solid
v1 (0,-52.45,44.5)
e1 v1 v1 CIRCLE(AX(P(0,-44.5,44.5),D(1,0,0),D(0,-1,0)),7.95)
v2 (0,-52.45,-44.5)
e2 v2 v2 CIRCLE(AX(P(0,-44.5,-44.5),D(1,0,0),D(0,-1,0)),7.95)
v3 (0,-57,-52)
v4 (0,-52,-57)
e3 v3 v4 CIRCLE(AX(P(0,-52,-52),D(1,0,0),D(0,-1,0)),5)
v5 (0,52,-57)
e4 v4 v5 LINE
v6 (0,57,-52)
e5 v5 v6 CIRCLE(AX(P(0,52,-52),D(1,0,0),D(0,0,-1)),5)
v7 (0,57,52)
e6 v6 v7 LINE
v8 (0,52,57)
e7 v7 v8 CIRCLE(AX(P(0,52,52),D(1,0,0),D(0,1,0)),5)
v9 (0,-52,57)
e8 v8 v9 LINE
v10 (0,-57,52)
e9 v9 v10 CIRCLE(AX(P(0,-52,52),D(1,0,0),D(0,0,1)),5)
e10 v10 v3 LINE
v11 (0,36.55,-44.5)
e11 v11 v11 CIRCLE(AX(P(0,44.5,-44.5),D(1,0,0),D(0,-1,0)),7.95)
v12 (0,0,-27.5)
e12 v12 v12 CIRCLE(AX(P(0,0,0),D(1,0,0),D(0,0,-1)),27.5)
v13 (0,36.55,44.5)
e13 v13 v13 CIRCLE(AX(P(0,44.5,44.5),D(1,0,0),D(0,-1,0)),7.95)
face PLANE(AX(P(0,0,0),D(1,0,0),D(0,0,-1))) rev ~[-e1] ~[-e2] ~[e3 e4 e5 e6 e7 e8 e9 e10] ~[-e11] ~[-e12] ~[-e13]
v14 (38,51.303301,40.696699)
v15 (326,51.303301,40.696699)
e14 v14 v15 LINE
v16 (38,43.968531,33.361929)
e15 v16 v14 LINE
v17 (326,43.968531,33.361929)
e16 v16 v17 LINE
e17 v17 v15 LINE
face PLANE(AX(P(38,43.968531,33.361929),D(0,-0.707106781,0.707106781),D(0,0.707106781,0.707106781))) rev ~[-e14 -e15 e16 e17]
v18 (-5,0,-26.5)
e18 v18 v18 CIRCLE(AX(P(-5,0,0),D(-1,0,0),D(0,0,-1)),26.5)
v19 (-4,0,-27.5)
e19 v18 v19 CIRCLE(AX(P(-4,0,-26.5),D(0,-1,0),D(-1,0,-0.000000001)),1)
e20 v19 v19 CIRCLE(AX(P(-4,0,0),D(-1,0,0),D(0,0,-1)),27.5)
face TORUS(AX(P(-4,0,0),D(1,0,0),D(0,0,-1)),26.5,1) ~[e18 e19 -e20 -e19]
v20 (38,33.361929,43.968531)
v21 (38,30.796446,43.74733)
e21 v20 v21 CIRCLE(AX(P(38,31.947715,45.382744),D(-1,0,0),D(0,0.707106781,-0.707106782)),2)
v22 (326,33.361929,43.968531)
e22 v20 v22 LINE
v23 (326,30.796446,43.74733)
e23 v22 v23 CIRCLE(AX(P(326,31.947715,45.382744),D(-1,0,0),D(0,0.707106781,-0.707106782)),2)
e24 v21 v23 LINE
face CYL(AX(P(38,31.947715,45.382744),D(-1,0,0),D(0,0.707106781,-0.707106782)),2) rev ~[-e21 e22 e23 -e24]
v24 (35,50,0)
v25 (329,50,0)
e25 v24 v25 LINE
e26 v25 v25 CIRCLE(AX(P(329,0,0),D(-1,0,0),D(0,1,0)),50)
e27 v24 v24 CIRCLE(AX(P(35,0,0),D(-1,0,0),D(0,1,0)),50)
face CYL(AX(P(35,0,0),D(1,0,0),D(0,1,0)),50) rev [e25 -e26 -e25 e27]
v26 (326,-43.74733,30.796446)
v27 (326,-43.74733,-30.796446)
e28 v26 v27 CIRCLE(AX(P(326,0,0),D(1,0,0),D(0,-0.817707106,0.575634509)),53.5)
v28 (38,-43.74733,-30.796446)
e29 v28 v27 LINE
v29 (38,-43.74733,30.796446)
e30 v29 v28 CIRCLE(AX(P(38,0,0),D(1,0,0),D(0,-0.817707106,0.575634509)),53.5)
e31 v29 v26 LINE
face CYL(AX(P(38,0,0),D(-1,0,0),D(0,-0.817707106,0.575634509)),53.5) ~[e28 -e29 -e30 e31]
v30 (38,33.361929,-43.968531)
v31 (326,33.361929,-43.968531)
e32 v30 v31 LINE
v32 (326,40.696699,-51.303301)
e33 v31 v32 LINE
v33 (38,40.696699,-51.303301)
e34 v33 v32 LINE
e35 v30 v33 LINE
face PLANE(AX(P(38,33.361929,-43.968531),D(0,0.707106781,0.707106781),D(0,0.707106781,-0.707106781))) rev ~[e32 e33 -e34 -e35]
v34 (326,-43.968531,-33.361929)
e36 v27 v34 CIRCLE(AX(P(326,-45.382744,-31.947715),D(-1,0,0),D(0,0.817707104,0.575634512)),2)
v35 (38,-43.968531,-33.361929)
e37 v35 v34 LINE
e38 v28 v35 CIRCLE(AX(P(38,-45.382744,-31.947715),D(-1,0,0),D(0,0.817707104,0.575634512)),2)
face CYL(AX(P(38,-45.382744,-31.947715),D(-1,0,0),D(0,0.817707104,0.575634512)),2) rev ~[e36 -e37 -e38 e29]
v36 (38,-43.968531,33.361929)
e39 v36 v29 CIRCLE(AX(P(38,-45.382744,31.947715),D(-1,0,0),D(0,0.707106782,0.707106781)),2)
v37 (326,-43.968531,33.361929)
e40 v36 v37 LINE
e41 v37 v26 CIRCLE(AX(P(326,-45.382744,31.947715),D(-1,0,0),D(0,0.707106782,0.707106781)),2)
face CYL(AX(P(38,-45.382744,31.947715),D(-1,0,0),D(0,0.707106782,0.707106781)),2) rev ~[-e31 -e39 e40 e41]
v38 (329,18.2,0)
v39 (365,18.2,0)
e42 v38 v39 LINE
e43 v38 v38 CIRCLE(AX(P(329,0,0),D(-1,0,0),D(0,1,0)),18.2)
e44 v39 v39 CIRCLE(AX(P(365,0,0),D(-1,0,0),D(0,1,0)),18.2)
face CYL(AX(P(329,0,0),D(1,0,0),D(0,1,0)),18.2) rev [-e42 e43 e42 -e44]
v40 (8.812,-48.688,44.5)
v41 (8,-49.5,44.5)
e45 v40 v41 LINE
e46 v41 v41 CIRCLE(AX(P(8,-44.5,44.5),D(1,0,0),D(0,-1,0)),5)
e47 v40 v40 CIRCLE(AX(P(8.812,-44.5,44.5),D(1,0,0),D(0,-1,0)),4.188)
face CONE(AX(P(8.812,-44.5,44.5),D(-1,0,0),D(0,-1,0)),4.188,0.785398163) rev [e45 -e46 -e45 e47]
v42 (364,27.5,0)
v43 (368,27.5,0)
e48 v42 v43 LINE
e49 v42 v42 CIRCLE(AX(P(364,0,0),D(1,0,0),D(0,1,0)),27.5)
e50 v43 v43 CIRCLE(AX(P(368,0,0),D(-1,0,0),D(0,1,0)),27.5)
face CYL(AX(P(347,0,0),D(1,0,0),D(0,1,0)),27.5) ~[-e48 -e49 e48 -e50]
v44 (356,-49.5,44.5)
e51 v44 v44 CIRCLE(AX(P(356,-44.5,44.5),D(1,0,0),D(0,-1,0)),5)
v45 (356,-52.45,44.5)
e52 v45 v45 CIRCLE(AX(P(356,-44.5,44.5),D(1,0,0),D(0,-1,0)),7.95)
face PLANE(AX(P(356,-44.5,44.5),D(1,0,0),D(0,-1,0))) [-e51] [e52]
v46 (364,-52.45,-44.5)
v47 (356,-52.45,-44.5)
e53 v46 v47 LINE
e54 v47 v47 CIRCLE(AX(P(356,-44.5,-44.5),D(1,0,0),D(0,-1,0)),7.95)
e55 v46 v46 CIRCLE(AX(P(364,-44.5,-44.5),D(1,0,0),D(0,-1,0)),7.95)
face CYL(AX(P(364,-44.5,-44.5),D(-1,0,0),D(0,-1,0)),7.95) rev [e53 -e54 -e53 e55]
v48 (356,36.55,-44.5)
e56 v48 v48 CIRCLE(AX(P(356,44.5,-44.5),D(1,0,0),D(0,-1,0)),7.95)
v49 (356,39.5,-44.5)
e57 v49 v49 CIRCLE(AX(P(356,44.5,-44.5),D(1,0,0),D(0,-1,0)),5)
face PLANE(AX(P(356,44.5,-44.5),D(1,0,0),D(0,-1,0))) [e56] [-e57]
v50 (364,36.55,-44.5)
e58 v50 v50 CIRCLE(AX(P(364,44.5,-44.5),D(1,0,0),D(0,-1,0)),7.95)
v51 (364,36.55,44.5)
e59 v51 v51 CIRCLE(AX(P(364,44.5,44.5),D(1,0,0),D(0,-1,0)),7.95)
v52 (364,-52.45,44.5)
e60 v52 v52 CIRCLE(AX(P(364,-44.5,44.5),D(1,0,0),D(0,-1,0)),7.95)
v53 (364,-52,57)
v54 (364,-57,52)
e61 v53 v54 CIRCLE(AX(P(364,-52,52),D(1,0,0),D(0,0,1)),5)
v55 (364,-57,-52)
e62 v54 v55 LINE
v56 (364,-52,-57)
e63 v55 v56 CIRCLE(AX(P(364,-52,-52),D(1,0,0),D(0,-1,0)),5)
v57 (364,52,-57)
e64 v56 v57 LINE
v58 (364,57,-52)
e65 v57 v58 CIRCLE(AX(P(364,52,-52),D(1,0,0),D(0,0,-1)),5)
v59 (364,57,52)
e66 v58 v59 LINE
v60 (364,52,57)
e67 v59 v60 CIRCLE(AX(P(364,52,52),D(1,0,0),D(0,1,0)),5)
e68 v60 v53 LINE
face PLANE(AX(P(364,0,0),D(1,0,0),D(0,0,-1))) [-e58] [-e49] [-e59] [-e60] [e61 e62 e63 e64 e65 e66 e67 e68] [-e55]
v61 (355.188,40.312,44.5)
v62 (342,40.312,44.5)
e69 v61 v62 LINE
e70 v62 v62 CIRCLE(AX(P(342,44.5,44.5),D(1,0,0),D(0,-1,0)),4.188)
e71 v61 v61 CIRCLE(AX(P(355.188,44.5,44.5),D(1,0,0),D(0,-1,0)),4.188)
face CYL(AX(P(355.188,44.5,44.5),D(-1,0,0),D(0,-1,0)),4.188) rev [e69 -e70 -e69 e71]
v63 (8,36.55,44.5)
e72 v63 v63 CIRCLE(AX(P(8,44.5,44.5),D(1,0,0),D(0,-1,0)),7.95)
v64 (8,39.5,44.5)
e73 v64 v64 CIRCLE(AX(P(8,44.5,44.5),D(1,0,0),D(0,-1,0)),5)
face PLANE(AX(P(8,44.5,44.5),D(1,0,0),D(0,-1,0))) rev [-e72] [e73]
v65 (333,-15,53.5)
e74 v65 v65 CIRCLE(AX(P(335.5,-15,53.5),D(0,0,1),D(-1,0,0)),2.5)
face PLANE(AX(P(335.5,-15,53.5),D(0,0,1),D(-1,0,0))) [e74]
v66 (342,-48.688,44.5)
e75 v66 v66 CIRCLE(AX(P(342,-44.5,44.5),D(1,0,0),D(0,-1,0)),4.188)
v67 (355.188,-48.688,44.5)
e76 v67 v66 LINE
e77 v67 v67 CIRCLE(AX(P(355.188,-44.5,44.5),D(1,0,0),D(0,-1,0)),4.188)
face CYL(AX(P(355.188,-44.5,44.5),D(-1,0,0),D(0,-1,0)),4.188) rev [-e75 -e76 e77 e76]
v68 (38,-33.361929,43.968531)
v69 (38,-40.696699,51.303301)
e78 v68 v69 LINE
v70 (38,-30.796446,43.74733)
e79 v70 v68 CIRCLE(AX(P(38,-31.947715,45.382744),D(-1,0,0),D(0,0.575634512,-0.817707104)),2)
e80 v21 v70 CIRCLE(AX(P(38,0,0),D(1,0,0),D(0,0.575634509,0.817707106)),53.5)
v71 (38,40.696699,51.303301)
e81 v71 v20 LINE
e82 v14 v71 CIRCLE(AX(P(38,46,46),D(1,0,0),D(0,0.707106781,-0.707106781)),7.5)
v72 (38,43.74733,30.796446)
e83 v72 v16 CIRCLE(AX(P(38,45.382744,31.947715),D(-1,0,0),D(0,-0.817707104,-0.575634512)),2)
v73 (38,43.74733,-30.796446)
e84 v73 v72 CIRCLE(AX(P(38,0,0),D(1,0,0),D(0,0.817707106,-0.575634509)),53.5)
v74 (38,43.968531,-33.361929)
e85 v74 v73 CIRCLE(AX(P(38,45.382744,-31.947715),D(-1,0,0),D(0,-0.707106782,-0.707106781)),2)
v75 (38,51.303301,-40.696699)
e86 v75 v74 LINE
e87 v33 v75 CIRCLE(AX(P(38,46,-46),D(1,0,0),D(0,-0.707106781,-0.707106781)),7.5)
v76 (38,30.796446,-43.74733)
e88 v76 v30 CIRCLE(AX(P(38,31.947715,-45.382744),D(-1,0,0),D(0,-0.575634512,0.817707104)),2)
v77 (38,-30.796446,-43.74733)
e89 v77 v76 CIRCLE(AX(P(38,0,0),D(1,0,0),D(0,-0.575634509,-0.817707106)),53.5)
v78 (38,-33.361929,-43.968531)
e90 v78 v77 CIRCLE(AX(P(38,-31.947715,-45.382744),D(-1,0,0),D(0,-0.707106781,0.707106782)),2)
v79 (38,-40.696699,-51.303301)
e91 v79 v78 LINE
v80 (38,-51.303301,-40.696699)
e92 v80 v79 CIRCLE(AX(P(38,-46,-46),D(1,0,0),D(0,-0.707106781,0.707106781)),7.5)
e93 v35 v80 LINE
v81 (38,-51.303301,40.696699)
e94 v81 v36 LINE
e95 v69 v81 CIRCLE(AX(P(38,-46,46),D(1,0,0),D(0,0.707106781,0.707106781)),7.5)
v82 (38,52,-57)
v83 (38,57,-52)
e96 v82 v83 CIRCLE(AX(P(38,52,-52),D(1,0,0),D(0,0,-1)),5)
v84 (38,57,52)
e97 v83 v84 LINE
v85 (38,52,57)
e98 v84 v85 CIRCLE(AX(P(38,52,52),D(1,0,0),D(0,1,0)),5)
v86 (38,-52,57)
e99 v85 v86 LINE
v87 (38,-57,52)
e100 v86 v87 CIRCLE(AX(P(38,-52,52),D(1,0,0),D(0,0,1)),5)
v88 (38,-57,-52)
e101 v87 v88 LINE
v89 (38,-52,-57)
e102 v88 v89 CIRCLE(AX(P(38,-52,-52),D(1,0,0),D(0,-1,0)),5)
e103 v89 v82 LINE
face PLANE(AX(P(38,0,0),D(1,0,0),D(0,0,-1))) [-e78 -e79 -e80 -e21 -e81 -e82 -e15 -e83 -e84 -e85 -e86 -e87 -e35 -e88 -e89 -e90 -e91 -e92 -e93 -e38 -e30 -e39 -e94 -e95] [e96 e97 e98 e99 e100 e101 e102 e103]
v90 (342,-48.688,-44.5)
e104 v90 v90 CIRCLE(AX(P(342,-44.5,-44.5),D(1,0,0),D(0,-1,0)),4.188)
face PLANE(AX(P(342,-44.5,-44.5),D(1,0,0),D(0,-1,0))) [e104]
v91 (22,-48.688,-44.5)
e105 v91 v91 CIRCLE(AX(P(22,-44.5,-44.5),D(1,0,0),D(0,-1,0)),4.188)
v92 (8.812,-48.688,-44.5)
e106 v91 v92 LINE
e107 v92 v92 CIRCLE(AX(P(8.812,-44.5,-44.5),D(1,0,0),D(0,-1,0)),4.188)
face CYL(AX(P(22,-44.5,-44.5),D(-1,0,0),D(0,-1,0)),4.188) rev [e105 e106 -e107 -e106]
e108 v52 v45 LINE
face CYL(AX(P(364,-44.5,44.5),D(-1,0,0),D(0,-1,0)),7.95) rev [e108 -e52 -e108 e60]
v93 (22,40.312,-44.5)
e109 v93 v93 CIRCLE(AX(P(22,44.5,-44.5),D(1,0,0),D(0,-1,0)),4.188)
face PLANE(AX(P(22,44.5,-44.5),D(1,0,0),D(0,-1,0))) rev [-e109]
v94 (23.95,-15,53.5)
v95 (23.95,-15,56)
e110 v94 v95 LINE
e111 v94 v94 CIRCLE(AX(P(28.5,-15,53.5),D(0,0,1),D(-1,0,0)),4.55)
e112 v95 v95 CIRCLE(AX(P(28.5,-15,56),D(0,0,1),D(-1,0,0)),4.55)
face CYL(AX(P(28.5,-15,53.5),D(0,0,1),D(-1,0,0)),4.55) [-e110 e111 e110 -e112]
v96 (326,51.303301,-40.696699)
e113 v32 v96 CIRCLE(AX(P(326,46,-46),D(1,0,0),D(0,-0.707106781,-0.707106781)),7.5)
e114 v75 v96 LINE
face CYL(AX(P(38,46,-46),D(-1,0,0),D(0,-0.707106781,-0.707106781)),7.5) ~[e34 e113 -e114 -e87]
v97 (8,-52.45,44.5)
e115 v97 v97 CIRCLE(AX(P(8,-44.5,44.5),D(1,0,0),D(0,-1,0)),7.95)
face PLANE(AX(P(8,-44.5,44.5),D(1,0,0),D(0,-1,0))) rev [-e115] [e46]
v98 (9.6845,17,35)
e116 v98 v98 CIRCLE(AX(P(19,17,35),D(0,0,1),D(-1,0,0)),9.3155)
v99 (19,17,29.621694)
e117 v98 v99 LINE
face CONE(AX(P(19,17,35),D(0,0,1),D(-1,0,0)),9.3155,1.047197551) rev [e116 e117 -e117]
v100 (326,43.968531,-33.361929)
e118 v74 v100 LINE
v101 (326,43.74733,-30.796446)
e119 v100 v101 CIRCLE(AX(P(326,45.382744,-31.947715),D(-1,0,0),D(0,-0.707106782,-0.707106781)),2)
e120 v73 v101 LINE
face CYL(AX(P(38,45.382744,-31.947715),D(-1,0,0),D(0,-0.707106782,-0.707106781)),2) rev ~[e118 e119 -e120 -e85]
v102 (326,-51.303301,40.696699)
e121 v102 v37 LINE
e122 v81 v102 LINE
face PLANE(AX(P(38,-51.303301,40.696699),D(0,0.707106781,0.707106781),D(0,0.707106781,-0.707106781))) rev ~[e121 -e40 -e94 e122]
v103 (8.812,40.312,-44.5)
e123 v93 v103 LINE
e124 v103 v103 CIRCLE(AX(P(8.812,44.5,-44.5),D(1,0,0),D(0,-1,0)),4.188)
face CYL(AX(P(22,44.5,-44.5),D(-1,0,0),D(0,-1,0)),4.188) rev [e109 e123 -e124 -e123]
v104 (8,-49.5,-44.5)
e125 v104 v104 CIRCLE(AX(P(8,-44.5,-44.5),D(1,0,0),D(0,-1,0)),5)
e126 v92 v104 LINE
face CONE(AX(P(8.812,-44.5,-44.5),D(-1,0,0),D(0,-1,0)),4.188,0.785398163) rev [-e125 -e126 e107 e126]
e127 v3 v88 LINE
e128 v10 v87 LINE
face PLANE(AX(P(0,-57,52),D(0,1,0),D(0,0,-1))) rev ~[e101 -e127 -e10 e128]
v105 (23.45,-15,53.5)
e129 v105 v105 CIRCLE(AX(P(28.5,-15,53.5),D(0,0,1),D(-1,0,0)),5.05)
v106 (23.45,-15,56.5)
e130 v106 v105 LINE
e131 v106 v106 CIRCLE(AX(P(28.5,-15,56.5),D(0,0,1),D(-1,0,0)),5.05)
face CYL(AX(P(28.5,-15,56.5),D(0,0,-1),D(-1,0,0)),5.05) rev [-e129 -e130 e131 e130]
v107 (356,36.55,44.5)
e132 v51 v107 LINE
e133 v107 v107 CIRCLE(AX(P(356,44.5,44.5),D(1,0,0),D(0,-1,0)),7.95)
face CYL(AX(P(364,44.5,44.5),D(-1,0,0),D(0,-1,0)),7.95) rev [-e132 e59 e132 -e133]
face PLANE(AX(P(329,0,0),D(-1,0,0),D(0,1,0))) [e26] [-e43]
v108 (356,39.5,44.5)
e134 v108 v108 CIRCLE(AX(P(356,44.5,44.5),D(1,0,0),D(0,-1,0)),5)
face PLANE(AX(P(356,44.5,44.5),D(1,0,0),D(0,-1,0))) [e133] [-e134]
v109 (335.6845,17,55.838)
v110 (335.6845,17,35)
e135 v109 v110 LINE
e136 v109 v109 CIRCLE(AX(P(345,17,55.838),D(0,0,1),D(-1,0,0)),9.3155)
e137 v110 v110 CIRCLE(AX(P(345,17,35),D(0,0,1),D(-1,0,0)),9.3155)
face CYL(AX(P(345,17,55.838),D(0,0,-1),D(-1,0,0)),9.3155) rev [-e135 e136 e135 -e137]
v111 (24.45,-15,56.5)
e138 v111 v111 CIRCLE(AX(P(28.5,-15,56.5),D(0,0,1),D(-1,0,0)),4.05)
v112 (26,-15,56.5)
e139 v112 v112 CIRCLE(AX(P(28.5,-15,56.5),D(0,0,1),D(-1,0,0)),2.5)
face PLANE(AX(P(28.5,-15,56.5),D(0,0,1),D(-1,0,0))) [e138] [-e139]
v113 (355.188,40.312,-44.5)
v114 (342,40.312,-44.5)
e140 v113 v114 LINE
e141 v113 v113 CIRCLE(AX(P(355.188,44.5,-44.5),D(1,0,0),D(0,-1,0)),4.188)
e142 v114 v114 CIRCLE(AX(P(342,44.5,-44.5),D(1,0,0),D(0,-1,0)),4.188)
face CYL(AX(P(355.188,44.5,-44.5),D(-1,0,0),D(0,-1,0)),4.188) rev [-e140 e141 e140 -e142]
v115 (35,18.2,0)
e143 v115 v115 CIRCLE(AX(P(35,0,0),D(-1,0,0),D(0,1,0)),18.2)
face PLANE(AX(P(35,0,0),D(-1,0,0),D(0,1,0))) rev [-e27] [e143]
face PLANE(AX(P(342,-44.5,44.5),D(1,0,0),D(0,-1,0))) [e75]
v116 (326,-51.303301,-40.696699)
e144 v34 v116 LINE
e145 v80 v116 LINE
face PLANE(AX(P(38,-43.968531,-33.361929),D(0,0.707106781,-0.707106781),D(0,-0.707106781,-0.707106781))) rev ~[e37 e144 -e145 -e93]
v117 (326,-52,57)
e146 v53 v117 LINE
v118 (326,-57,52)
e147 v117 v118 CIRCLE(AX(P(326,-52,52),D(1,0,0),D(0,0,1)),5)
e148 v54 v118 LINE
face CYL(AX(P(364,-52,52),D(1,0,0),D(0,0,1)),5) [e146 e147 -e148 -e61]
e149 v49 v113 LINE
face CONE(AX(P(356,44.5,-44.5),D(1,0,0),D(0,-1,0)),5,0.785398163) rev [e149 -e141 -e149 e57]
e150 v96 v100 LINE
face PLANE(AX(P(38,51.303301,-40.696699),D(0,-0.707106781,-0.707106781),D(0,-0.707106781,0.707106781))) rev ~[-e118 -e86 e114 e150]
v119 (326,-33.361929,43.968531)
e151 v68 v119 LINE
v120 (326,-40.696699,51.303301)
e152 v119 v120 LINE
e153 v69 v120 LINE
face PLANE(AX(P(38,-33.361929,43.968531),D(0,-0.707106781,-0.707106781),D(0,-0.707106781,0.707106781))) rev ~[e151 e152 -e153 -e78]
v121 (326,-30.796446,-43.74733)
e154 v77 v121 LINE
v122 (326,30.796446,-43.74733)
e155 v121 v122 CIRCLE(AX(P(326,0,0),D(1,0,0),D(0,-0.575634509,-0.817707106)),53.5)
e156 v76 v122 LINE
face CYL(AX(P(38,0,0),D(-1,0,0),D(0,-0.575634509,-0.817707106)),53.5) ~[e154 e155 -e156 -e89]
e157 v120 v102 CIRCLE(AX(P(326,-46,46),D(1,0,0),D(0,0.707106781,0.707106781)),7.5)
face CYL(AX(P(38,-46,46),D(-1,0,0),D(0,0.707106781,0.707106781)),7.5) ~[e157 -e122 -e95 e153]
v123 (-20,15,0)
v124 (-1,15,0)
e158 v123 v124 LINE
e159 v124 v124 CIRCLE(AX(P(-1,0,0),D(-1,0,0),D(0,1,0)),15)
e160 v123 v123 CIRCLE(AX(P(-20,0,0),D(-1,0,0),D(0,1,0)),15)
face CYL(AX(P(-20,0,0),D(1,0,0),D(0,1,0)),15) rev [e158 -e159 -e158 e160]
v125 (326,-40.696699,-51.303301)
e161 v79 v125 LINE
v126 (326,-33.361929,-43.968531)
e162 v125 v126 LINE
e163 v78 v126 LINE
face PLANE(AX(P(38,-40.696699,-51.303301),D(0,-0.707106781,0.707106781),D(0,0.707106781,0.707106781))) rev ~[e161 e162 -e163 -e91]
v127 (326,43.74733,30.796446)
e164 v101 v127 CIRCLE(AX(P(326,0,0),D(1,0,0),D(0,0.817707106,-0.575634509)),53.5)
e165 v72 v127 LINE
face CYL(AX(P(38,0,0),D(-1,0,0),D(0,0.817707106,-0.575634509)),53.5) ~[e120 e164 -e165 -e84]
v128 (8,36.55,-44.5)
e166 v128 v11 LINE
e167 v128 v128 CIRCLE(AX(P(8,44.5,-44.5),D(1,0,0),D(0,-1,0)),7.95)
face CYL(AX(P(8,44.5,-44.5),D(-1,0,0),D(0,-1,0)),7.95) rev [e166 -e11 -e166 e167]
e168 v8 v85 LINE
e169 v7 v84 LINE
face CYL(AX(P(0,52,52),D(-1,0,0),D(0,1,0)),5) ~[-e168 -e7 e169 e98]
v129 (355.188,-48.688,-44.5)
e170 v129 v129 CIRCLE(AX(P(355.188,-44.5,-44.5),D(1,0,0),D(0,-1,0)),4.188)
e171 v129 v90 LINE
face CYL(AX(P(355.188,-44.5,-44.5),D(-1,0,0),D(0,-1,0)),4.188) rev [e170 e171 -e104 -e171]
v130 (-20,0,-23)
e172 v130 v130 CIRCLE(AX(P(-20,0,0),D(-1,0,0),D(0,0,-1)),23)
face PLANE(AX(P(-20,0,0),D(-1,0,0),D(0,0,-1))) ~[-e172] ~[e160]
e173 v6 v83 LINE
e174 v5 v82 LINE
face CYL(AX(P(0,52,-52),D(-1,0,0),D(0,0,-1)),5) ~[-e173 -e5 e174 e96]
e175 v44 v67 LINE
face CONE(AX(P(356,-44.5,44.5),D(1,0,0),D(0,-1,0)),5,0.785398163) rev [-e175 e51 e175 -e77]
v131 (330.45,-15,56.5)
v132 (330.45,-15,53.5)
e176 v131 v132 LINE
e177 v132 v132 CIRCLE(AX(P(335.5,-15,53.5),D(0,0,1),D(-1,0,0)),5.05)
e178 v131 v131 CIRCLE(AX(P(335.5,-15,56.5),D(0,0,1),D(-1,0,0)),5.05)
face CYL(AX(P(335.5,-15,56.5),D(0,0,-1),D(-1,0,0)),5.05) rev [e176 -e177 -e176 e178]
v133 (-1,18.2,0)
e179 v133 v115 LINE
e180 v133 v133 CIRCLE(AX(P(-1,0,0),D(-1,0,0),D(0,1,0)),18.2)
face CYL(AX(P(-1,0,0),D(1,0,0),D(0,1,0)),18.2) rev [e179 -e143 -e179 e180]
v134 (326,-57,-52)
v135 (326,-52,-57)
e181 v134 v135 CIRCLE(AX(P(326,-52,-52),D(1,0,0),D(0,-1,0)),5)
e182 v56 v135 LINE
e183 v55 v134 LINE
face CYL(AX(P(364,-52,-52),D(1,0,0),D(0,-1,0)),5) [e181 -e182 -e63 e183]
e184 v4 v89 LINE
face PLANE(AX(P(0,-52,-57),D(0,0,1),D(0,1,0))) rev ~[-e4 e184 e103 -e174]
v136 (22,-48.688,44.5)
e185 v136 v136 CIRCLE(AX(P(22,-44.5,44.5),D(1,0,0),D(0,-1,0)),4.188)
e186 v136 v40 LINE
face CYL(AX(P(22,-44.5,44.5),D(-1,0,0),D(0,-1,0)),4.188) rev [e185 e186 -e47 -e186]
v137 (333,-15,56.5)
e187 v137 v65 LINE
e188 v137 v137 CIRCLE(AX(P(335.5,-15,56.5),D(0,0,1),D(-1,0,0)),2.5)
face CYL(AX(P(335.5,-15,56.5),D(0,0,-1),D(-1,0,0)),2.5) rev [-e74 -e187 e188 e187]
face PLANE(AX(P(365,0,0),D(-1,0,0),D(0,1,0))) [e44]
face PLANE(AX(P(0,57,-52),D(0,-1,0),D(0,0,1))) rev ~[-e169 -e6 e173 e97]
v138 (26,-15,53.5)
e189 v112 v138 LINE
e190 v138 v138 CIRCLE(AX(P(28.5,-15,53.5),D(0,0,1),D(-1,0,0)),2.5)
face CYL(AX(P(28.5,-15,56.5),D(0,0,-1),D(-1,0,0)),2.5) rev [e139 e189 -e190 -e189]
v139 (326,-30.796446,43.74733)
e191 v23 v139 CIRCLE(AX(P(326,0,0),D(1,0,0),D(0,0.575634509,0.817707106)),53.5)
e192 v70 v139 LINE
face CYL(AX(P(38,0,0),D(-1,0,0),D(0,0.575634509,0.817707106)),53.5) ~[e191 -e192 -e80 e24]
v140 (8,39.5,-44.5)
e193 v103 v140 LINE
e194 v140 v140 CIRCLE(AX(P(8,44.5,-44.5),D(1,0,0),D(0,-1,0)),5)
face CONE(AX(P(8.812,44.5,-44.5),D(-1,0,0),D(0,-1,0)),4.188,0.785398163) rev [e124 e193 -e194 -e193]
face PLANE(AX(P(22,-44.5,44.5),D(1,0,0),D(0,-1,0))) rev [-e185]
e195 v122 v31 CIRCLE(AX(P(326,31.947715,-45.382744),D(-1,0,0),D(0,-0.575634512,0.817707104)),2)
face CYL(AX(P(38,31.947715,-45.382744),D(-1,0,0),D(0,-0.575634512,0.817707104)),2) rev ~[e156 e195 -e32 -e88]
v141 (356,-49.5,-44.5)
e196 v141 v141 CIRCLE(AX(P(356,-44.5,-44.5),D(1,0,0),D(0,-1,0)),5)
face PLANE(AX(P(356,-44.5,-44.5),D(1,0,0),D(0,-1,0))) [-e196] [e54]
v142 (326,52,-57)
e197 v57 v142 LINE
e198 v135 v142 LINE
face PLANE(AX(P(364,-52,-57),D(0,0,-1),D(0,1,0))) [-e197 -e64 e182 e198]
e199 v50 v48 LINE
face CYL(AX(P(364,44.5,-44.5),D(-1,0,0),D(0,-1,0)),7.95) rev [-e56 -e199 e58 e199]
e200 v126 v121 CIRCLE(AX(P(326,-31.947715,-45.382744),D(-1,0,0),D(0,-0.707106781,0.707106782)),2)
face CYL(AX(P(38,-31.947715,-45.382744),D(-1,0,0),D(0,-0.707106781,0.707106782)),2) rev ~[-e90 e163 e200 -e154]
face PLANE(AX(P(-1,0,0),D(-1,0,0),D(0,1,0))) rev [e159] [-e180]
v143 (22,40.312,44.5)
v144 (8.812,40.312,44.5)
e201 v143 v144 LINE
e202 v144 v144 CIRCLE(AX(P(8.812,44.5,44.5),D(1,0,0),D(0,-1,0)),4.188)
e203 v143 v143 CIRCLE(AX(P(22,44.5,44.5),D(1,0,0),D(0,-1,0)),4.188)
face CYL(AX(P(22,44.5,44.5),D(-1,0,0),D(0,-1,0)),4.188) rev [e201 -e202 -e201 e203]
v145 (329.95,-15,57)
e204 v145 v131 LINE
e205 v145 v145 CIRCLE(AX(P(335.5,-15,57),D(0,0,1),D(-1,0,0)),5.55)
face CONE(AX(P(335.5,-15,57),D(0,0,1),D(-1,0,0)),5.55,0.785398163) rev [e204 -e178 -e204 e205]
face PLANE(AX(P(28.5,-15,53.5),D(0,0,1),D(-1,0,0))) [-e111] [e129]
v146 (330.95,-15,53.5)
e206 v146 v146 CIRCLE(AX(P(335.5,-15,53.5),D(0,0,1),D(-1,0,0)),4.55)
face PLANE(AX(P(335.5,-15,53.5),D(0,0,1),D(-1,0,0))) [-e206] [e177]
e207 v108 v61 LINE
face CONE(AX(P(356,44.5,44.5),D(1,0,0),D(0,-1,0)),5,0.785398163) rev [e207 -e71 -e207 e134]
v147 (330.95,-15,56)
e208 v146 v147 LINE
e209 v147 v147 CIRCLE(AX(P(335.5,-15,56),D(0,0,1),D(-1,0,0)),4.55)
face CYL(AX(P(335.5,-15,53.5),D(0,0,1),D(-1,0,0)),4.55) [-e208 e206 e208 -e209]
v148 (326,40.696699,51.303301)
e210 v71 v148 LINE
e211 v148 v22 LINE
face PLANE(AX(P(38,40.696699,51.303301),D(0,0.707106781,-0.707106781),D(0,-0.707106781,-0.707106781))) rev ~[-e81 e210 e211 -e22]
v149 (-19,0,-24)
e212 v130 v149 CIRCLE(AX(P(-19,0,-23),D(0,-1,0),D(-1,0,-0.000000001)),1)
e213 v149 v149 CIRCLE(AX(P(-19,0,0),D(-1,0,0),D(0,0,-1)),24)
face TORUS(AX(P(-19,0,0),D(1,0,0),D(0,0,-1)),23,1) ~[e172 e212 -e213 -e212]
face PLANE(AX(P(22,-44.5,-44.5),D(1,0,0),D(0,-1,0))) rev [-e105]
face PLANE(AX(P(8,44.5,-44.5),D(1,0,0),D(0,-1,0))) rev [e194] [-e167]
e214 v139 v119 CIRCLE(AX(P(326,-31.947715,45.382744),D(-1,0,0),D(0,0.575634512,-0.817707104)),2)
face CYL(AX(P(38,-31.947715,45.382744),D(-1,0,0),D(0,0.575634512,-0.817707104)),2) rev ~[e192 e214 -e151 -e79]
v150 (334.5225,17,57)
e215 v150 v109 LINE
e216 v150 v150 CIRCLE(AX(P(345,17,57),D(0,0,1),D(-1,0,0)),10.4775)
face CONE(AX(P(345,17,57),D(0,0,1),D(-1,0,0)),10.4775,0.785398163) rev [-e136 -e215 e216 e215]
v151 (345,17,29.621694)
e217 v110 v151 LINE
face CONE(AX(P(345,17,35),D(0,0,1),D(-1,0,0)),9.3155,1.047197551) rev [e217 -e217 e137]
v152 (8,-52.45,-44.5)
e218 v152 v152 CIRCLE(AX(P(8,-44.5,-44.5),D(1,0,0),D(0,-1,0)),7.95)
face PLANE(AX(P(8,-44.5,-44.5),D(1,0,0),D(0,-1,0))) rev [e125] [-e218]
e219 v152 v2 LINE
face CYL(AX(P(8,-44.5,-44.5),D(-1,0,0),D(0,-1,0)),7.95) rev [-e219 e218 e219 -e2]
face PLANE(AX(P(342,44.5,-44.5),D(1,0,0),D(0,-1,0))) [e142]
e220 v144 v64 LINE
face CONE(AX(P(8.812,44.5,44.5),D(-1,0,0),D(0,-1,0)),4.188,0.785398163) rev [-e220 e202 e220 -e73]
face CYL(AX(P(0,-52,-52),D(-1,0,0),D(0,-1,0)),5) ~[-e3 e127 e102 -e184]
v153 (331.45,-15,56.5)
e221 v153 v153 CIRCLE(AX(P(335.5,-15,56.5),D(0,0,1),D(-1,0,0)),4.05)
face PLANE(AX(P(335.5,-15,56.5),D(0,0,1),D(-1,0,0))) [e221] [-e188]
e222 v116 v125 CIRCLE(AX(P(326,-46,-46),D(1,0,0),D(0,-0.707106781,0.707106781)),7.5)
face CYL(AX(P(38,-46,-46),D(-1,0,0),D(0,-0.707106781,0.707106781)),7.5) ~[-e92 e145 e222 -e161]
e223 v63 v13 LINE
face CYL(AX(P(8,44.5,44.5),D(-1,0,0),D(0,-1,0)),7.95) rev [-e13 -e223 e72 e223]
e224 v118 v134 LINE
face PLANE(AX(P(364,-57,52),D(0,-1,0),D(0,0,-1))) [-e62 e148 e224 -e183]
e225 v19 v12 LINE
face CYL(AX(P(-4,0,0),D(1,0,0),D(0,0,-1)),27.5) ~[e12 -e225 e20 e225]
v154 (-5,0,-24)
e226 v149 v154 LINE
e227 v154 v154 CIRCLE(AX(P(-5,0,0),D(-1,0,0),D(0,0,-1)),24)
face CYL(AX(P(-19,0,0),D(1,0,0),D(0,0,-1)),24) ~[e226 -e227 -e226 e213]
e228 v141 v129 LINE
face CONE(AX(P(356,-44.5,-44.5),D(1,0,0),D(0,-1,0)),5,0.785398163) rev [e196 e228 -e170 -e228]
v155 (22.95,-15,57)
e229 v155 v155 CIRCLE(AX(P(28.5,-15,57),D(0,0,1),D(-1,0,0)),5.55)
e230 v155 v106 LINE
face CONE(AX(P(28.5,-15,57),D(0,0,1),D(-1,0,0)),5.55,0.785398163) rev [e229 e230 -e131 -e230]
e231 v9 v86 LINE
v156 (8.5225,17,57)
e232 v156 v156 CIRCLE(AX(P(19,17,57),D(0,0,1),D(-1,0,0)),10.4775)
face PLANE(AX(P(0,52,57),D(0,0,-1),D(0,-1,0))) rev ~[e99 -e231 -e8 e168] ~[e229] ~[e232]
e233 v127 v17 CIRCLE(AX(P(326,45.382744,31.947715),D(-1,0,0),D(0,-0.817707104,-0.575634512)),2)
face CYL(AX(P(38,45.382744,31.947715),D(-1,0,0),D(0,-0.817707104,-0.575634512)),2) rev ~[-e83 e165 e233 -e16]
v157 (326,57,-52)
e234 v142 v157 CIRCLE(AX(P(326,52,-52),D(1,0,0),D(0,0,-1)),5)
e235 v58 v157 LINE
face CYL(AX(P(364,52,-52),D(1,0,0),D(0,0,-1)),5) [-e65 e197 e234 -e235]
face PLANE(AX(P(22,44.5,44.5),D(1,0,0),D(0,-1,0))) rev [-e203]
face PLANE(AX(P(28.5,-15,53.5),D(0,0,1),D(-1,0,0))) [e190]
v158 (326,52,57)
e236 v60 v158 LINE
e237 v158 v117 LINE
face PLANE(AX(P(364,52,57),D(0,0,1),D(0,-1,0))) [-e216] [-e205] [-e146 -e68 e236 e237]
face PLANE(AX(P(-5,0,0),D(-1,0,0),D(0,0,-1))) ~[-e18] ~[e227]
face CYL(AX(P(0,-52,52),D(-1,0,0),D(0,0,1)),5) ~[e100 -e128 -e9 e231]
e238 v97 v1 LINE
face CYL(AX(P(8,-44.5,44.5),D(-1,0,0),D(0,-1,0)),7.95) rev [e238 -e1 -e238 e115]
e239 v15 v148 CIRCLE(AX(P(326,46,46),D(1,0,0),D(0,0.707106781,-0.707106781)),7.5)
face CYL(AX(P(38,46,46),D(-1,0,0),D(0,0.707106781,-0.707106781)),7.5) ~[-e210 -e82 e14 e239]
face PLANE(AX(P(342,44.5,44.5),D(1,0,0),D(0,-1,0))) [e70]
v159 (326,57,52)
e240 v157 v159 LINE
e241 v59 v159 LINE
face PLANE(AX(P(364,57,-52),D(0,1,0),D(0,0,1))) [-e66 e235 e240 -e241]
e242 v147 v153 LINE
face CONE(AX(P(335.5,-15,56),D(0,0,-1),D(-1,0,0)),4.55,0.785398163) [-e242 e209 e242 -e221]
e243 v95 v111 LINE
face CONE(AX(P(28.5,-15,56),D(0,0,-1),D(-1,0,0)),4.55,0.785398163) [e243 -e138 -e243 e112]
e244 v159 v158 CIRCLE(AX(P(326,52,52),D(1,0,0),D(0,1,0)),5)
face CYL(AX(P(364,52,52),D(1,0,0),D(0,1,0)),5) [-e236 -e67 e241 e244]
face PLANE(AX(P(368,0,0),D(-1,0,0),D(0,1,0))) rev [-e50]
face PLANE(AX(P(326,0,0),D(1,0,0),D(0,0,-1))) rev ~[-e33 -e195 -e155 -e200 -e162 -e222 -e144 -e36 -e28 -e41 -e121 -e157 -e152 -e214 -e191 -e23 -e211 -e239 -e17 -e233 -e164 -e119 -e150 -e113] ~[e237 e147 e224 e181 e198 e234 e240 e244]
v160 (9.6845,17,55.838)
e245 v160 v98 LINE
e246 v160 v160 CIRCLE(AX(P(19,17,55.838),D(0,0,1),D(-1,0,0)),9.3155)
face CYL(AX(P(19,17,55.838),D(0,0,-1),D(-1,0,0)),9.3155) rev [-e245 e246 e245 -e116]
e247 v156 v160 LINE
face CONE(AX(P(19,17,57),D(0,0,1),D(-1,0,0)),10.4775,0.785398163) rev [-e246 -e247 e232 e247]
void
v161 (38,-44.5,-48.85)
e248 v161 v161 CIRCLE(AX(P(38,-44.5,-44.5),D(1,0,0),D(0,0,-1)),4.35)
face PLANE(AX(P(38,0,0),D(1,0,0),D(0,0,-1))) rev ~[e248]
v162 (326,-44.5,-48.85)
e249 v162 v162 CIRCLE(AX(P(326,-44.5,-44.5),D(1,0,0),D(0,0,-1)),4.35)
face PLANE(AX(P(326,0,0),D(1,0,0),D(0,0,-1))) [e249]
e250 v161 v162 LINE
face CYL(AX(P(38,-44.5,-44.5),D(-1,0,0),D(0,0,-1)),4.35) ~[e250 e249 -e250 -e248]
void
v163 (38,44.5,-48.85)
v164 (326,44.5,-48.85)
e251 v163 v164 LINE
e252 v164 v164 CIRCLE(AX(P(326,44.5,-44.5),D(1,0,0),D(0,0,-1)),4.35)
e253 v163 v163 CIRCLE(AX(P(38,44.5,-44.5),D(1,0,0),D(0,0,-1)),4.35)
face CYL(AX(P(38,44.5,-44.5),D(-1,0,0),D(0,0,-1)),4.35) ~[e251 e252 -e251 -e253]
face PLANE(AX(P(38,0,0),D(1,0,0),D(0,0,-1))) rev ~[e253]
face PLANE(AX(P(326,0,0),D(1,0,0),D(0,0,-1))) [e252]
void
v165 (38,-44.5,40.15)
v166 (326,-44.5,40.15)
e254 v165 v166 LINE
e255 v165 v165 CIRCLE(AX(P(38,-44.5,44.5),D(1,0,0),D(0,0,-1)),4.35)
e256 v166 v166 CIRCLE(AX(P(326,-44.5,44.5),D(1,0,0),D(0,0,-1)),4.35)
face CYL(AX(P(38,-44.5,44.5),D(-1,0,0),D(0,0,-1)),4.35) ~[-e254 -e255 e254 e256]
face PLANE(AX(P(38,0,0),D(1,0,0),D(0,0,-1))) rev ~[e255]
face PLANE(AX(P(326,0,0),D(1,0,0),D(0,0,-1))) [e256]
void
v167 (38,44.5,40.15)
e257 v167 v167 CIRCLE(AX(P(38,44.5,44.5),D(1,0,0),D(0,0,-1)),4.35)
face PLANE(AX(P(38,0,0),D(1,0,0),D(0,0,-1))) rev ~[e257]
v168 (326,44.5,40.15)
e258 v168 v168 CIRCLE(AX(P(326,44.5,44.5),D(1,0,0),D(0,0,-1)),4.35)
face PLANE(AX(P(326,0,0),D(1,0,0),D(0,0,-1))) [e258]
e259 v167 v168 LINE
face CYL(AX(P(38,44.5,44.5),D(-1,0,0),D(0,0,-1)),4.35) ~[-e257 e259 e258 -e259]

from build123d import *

# Parameters (mm, degrees)
EXTRUDE_1_DEPTH             = 38
SKETCH_3_R                  = 4.35
EXTRUDE_2_DEPTH             = 288
EXTRUDE_START               = -38
EXTRUDE_3_DEPTH             = 38
SKETCH_5_W                  = 42
SKETCH_5_H                  = 27.5
PATTERN_LINEAR_1_COUNT      = 2
PATTERN_LINEAR_1_PITCH      = 89
PATTERN_LINEAR_1_COUNT_DIR2 = 2
PATTERN_LINEAR_1_PITCH_DIR2 = 89
PATTERN_LINEAR_2_COUNT      = 2
PATTERN_LINEAR_2_PITCH      = 89
PATTERN_LINEAR_2_COUNT_DIR2 = 2
PATTERN_LINEAR_2_PITCH_DIR2 = 89


with BuildPart() as part:
    # 草图1 → 凸台-拉伸1 (new body)
    with BuildSketch(Plane(origin=(0, 0, 0), x_dir=(0, 0, -1), z_dir=(1, 0, 0))):
        with BuildLine():
            Line((-52, -57), (52, -57))
            ThreePointArc((52, -57), (55.535533906, -55.535533906), (57, -52))
            Line((57, -52), (57, 52))
            ThreePointArc((57, 52), (55.535533906, 55.535533906), (52, 57))
            Line((52, 57), (-52, 57))
            ThreePointArc((-52, 57), (-55.535533906, 55.535533906), (-57, 52))
            Line((-57, 52), (-57, -52))
            ThreePointArc((-57, -52), (-55.535533906, -55.535533906), (-52, -57))
        make_face()
    extrude(amount=EXTRUDE_1_DEPTH)

    # 草图2 → 旋转1 (revolve)
    with BuildSketch(Plane(origin=(0, 0, 0), x_dir=(1, 0, 0), z_dir=(0, 1, 0))):
        with BuildLine():
            Line((-20, 0), (-20, 23))
            ThreePointArc((-20, 23), (-19.707106781, 23.707106781), (-19, 24))
            Line((-19, 24), (-5, 24))
            Line((-5, 24), (-5, 26.5))
            ThreePointArc((-5, 26.5), (-4.707106781, 27.207106781), (-4, 27.5))
            Line((-4, 27.5), (38, 27.5))
            Line((38, 27.5), (38, 0))
            Line((38, 0), (-20, 0))
        make_face()
    revolve(axis=Axis((38, 0, 0), (-1, 0, 0)))

    # 草图3 → 凸台-拉伸2 (add)
    with BuildSketch(Plane(origin=(38, 0, 0), x_dir=(0, 0, -1), z_dir=(1, 0, 0))):
        with BuildLine():
            Line((-43.968530717, -33.361928999), (-51.303300859, -40.696699141))
            ThreePointArc((-51.303300859, -40.696699141), (-51.303300859, -51.303300859), (-40.696699141, -51.303300859))
            Line((-40.696699141, -51.303300859), (-33.361928999, -43.968530717))
            ThreePointArc((-33.361928999, -43.968530717), (-32.119521583, -43.390137282), (-30.796446235, -43.747330196))
            ThreePointArc((-30.796446235, -43.747330196), (1.08e-07, -53.5), (30.796446412, -43.747330071))
            ThreePointArc((30.796446412, -43.747330071), (32.119521691, -43.390137291), (33.361928999, -43.968530717))
            Line((33.361928999, -43.968530717), (40.696699141, -51.303300859))
            ThreePointArc((40.696699141, -51.303300859), (51.303300859, -51.303300859), (51.303300859, -40.696699141))
            Line((51.303300859, -40.696699141), (43.968530717, -33.361928999))
            ThreePointArc((43.968530717, -33.361928999), (43.390137282, -32.119521583), (43.747330196, -30.796446235))
            ThreePointArc((43.747330196, -30.796446235), (53.5, 1.08e-07), (43.747330071, 30.796446412))
            ThreePointArc((43.747330071, 30.796446412), (43.390137291, 32.119521691), (43.968530717, 33.361928999))
            Line((43.968530717, 33.361928999), (51.303300859, 40.696699141))
            ThreePointArc((51.303300859, 40.696699141), (51.303300859, 51.303300859), (40.696699141, 51.303300859))
            Line((40.696699141, 51.303300859), (33.361928999, 43.968530717))
            ThreePointArc((33.361928999, 43.968530717), (32.119521583, 43.390137282), (30.796446235, 43.747330196))
            ThreePointArc((30.796446235, 43.747330196), (-1.08e-07, 53.5), (-30.796446412, 43.747330071))
            ThreePointArc((-30.796446412, 43.747330071), (-32.119521691, 43.390137291), (-33.361928999, 43.968530717))
            Line((-33.361928999, 43.968530717), (-40.696699141, 51.303300859))
            ThreePointArc((-40.696699141, 51.303300859), (-51.303300859, 51.303300859), (-51.303300859, 40.696699141))
            Line((-51.303300859, 40.696699141), (-43.968530717, 33.361928999))
            ThreePointArc((-43.968530717, 33.361928999), (-43.390137282, 32.119521583), (-43.747330196, 30.796446235))
            ThreePointArc((-43.747330196, 30.796446235), (-53.5, -1.08e-07), (-43.747330071, -30.796446412))
            ThreePointArc((-43.747330071, -30.796446412), (-43.390137291, -32.119521691), (-43.968530717, -33.361928999))
        make_face()
        with Locations((44.5, 44.5)):
            Circle(SKETCH_3_R, mode=Mode.SUBTRACT)
        with Locations((44.5, -44.5)):
            Circle(SKETCH_3_R, mode=Mode.SUBTRACT)
        with Locations((-44.5, 44.5)):
            Circle(SKETCH_3_R, mode=Mode.SUBTRACT)
        with Locations((-44.5, -44.5)):
            Circle(SKETCH_3_R, mode=Mode.SUBTRACT)
    extrude(amount=EXTRUDE_2_DEPTH)

    # 草图4 → 凸台-拉伸3 (add)
    with BuildSketch(Plane(origin=(364, 0, 0), x_dir=(0, 0, -1), z_dir=(1, 0, 0)).offset(EXTRUDE_START)):
        with BuildLine():
            Line((-52, -57), (52, -57))
            ThreePointArc((52, -57), (55.535533906, -55.535533906), (57, -52))
            Line((57, -52), (57, 52))
            ThreePointArc((57, 52), (55.535533906, 55.535533906), (52, 57))
            Line((52, 57), (-52, 57))
            ThreePointArc((-52, 57), (-55.535533906, 55.535533906), (-57, 52))
            Line((-57, 52), (-57, -52))
            ThreePointArc((-57, -52), (-55.535533906, -55.535533906), (-52, -57))
        make_face()
    extrude(amount=EXTRUDE_3_DEPTH)

    # 草图5 → 旋转2 (revolve)
    with BuildSketch(Plane.XY):
        with Locations((347, 13.75)):
            Rectangle(SKETCH_5_W, SKETCH_5_H)
    revolve(axis=Axis((368, 0, 0), (-1, 0, 0)))

    # 草图6 → 切除-旋转1 (revolve, cut)
    with BuildSketch(Plane(origin=(0, 17, 0), x_dir=(1, 0, 0), z_dir=(0, 1, 0))):
        Polygon((19, -57), (8.5225, -57), (9.6845, -55.838), (9.6845, -35), (19, -29.621693567), align=None)
    revolve(axis=Axis((19, 17, 29.621693567), (0, 0, 1)), mode=Mode.SUBTRACT)

    # 草图7 → 切除-旋转2 (revolve, cut)
    with BuildSketch(Plane(origin=(0, 17, 0), x_dir=(1, 0, 0), z_dir=(0, 1, 0))):
        Polygon((345, -57), (334.5225, -57), (335.6845, -55.838), (335.6845, -35), (345, -29.621693567), align=None)
    revolve(axis=Axis((345, 17, 29.621693567), (0, 0, 1)), mode=Mode.SUBTRACT)

    # 草图8 → 切除-旋转3 (revolve, cut)
    with BuildSketch(Plane(origin=(0, -15, 0), x_dir=(1, 0, 0), z_dir=(0, 1, 0))):
        Polygon((28.5, -57), (22.95, -57), (23.45, -56.5), (23.45, -53.5), (23.95, -53.5), (23.95, -56), (24.45, -56.5), (26, -56.5), (26, -53.5), (28.5, -53.5), align=None)
    revolve(axis=Axis((28.5, -15, 53.5), (0, 0, 1)), mode=Mode.SUBTRACT)

    # 草图9 → 切除-旋转4 (revolve, cut)
    with BuildSketch(Plane(origin=(0, -15, 0), x_dir=(1, 0, 0), z_dir=(0, 1, 0))):
        Polygon((335.5, -57), (329.95, -57), (330.45, -56.5), (330.45, -53.5), (330.95, -53.5), (330.95, -56), (331.45, -56.5), (333, -56.5), (333, -53.5), (335.5, -53.5), align=None)
    revolve(axis=Axis((335.5, -15, 53.5), (0, 0, 1)), mode=Mode.SUBTRACT)

    # 草图10 → 切除-旋转5 (revolve, cut)
    with BuildSketch(Plane.XY.offset(-44.5)):
        Polygon((22, -44.5), (22, -48.688), (8.812, -48.688), (8, -49.5), (8, -52.45), (0, -52.45), (0, -44.5), align=None)
    cut_revolve_5 = revolve(axis=Axis((0, -44.5, -44.5), (1, 0, 0)), mode=Mode.SUBTRACT)

    # 阵列(线性)1: Cut-Revolve 5 2 × 2
    with Locations(*[(0, i * PATTERN_LINEAR_1_PITCH, j * PATTERN_LINEAR_1_PITCH_DIR2) for i in range(PATTERN_LINEAR_1_COUNT) for j in range(PATTERN_LINEAR_1_COUNT_DIR2) if (i, j) != (0, 0)]):
        add(cut_revolve_5, mode=Mode.SUBTRACT)

    # 草图12 → 切除-旋转6 (revolve, cut)
    with BuildSketch(Plane.XY.offset(-44.5)):
        Polygon((364, -44.5), (364, -52.45), (356, -52.45), (356, -49.5), (355.188, -48.688), (342, -48.688), (342, -44.5), align=None)
    cut_revolve_6 = revolve(axis=Axis((342, -44.5, -44.5), (1, 0, 0)), mode=Mode.SUBTRACT)

    # 阵列(线性)2: Cut-Revolve 6 2 × 2
    with Locations(*[(0, i * PATTERN_LINEAR_2_PITCH, j * PATTERN_LINEAR_2_PITCH_DIR2) for i in range(PATTERN_LINEAR_2_COUNT) for j in range(PATTERN_LINEAR_2_COUNT_DIR2) if (i, j) != (0, 0)]):
        add(cut_revolve_6, mode=Mode.SUBTRACT)

    # 草图14 → 切除-旋转7 (revolve, cut)
    with BuildSketch(Plane.XY):
        Polygon((-20, 0), (-20, 15), (-1, 15), (-1, 18.2), (35, 18.2), (35, 50), (329, 50), (329, 18.2), (365, 18.2), (365, 0), align=None)
    revolve(axis=Axis((365, 0, 0), (-1, 0, 0)), mode=Mode.SUBTRACT)


solid = part.part
